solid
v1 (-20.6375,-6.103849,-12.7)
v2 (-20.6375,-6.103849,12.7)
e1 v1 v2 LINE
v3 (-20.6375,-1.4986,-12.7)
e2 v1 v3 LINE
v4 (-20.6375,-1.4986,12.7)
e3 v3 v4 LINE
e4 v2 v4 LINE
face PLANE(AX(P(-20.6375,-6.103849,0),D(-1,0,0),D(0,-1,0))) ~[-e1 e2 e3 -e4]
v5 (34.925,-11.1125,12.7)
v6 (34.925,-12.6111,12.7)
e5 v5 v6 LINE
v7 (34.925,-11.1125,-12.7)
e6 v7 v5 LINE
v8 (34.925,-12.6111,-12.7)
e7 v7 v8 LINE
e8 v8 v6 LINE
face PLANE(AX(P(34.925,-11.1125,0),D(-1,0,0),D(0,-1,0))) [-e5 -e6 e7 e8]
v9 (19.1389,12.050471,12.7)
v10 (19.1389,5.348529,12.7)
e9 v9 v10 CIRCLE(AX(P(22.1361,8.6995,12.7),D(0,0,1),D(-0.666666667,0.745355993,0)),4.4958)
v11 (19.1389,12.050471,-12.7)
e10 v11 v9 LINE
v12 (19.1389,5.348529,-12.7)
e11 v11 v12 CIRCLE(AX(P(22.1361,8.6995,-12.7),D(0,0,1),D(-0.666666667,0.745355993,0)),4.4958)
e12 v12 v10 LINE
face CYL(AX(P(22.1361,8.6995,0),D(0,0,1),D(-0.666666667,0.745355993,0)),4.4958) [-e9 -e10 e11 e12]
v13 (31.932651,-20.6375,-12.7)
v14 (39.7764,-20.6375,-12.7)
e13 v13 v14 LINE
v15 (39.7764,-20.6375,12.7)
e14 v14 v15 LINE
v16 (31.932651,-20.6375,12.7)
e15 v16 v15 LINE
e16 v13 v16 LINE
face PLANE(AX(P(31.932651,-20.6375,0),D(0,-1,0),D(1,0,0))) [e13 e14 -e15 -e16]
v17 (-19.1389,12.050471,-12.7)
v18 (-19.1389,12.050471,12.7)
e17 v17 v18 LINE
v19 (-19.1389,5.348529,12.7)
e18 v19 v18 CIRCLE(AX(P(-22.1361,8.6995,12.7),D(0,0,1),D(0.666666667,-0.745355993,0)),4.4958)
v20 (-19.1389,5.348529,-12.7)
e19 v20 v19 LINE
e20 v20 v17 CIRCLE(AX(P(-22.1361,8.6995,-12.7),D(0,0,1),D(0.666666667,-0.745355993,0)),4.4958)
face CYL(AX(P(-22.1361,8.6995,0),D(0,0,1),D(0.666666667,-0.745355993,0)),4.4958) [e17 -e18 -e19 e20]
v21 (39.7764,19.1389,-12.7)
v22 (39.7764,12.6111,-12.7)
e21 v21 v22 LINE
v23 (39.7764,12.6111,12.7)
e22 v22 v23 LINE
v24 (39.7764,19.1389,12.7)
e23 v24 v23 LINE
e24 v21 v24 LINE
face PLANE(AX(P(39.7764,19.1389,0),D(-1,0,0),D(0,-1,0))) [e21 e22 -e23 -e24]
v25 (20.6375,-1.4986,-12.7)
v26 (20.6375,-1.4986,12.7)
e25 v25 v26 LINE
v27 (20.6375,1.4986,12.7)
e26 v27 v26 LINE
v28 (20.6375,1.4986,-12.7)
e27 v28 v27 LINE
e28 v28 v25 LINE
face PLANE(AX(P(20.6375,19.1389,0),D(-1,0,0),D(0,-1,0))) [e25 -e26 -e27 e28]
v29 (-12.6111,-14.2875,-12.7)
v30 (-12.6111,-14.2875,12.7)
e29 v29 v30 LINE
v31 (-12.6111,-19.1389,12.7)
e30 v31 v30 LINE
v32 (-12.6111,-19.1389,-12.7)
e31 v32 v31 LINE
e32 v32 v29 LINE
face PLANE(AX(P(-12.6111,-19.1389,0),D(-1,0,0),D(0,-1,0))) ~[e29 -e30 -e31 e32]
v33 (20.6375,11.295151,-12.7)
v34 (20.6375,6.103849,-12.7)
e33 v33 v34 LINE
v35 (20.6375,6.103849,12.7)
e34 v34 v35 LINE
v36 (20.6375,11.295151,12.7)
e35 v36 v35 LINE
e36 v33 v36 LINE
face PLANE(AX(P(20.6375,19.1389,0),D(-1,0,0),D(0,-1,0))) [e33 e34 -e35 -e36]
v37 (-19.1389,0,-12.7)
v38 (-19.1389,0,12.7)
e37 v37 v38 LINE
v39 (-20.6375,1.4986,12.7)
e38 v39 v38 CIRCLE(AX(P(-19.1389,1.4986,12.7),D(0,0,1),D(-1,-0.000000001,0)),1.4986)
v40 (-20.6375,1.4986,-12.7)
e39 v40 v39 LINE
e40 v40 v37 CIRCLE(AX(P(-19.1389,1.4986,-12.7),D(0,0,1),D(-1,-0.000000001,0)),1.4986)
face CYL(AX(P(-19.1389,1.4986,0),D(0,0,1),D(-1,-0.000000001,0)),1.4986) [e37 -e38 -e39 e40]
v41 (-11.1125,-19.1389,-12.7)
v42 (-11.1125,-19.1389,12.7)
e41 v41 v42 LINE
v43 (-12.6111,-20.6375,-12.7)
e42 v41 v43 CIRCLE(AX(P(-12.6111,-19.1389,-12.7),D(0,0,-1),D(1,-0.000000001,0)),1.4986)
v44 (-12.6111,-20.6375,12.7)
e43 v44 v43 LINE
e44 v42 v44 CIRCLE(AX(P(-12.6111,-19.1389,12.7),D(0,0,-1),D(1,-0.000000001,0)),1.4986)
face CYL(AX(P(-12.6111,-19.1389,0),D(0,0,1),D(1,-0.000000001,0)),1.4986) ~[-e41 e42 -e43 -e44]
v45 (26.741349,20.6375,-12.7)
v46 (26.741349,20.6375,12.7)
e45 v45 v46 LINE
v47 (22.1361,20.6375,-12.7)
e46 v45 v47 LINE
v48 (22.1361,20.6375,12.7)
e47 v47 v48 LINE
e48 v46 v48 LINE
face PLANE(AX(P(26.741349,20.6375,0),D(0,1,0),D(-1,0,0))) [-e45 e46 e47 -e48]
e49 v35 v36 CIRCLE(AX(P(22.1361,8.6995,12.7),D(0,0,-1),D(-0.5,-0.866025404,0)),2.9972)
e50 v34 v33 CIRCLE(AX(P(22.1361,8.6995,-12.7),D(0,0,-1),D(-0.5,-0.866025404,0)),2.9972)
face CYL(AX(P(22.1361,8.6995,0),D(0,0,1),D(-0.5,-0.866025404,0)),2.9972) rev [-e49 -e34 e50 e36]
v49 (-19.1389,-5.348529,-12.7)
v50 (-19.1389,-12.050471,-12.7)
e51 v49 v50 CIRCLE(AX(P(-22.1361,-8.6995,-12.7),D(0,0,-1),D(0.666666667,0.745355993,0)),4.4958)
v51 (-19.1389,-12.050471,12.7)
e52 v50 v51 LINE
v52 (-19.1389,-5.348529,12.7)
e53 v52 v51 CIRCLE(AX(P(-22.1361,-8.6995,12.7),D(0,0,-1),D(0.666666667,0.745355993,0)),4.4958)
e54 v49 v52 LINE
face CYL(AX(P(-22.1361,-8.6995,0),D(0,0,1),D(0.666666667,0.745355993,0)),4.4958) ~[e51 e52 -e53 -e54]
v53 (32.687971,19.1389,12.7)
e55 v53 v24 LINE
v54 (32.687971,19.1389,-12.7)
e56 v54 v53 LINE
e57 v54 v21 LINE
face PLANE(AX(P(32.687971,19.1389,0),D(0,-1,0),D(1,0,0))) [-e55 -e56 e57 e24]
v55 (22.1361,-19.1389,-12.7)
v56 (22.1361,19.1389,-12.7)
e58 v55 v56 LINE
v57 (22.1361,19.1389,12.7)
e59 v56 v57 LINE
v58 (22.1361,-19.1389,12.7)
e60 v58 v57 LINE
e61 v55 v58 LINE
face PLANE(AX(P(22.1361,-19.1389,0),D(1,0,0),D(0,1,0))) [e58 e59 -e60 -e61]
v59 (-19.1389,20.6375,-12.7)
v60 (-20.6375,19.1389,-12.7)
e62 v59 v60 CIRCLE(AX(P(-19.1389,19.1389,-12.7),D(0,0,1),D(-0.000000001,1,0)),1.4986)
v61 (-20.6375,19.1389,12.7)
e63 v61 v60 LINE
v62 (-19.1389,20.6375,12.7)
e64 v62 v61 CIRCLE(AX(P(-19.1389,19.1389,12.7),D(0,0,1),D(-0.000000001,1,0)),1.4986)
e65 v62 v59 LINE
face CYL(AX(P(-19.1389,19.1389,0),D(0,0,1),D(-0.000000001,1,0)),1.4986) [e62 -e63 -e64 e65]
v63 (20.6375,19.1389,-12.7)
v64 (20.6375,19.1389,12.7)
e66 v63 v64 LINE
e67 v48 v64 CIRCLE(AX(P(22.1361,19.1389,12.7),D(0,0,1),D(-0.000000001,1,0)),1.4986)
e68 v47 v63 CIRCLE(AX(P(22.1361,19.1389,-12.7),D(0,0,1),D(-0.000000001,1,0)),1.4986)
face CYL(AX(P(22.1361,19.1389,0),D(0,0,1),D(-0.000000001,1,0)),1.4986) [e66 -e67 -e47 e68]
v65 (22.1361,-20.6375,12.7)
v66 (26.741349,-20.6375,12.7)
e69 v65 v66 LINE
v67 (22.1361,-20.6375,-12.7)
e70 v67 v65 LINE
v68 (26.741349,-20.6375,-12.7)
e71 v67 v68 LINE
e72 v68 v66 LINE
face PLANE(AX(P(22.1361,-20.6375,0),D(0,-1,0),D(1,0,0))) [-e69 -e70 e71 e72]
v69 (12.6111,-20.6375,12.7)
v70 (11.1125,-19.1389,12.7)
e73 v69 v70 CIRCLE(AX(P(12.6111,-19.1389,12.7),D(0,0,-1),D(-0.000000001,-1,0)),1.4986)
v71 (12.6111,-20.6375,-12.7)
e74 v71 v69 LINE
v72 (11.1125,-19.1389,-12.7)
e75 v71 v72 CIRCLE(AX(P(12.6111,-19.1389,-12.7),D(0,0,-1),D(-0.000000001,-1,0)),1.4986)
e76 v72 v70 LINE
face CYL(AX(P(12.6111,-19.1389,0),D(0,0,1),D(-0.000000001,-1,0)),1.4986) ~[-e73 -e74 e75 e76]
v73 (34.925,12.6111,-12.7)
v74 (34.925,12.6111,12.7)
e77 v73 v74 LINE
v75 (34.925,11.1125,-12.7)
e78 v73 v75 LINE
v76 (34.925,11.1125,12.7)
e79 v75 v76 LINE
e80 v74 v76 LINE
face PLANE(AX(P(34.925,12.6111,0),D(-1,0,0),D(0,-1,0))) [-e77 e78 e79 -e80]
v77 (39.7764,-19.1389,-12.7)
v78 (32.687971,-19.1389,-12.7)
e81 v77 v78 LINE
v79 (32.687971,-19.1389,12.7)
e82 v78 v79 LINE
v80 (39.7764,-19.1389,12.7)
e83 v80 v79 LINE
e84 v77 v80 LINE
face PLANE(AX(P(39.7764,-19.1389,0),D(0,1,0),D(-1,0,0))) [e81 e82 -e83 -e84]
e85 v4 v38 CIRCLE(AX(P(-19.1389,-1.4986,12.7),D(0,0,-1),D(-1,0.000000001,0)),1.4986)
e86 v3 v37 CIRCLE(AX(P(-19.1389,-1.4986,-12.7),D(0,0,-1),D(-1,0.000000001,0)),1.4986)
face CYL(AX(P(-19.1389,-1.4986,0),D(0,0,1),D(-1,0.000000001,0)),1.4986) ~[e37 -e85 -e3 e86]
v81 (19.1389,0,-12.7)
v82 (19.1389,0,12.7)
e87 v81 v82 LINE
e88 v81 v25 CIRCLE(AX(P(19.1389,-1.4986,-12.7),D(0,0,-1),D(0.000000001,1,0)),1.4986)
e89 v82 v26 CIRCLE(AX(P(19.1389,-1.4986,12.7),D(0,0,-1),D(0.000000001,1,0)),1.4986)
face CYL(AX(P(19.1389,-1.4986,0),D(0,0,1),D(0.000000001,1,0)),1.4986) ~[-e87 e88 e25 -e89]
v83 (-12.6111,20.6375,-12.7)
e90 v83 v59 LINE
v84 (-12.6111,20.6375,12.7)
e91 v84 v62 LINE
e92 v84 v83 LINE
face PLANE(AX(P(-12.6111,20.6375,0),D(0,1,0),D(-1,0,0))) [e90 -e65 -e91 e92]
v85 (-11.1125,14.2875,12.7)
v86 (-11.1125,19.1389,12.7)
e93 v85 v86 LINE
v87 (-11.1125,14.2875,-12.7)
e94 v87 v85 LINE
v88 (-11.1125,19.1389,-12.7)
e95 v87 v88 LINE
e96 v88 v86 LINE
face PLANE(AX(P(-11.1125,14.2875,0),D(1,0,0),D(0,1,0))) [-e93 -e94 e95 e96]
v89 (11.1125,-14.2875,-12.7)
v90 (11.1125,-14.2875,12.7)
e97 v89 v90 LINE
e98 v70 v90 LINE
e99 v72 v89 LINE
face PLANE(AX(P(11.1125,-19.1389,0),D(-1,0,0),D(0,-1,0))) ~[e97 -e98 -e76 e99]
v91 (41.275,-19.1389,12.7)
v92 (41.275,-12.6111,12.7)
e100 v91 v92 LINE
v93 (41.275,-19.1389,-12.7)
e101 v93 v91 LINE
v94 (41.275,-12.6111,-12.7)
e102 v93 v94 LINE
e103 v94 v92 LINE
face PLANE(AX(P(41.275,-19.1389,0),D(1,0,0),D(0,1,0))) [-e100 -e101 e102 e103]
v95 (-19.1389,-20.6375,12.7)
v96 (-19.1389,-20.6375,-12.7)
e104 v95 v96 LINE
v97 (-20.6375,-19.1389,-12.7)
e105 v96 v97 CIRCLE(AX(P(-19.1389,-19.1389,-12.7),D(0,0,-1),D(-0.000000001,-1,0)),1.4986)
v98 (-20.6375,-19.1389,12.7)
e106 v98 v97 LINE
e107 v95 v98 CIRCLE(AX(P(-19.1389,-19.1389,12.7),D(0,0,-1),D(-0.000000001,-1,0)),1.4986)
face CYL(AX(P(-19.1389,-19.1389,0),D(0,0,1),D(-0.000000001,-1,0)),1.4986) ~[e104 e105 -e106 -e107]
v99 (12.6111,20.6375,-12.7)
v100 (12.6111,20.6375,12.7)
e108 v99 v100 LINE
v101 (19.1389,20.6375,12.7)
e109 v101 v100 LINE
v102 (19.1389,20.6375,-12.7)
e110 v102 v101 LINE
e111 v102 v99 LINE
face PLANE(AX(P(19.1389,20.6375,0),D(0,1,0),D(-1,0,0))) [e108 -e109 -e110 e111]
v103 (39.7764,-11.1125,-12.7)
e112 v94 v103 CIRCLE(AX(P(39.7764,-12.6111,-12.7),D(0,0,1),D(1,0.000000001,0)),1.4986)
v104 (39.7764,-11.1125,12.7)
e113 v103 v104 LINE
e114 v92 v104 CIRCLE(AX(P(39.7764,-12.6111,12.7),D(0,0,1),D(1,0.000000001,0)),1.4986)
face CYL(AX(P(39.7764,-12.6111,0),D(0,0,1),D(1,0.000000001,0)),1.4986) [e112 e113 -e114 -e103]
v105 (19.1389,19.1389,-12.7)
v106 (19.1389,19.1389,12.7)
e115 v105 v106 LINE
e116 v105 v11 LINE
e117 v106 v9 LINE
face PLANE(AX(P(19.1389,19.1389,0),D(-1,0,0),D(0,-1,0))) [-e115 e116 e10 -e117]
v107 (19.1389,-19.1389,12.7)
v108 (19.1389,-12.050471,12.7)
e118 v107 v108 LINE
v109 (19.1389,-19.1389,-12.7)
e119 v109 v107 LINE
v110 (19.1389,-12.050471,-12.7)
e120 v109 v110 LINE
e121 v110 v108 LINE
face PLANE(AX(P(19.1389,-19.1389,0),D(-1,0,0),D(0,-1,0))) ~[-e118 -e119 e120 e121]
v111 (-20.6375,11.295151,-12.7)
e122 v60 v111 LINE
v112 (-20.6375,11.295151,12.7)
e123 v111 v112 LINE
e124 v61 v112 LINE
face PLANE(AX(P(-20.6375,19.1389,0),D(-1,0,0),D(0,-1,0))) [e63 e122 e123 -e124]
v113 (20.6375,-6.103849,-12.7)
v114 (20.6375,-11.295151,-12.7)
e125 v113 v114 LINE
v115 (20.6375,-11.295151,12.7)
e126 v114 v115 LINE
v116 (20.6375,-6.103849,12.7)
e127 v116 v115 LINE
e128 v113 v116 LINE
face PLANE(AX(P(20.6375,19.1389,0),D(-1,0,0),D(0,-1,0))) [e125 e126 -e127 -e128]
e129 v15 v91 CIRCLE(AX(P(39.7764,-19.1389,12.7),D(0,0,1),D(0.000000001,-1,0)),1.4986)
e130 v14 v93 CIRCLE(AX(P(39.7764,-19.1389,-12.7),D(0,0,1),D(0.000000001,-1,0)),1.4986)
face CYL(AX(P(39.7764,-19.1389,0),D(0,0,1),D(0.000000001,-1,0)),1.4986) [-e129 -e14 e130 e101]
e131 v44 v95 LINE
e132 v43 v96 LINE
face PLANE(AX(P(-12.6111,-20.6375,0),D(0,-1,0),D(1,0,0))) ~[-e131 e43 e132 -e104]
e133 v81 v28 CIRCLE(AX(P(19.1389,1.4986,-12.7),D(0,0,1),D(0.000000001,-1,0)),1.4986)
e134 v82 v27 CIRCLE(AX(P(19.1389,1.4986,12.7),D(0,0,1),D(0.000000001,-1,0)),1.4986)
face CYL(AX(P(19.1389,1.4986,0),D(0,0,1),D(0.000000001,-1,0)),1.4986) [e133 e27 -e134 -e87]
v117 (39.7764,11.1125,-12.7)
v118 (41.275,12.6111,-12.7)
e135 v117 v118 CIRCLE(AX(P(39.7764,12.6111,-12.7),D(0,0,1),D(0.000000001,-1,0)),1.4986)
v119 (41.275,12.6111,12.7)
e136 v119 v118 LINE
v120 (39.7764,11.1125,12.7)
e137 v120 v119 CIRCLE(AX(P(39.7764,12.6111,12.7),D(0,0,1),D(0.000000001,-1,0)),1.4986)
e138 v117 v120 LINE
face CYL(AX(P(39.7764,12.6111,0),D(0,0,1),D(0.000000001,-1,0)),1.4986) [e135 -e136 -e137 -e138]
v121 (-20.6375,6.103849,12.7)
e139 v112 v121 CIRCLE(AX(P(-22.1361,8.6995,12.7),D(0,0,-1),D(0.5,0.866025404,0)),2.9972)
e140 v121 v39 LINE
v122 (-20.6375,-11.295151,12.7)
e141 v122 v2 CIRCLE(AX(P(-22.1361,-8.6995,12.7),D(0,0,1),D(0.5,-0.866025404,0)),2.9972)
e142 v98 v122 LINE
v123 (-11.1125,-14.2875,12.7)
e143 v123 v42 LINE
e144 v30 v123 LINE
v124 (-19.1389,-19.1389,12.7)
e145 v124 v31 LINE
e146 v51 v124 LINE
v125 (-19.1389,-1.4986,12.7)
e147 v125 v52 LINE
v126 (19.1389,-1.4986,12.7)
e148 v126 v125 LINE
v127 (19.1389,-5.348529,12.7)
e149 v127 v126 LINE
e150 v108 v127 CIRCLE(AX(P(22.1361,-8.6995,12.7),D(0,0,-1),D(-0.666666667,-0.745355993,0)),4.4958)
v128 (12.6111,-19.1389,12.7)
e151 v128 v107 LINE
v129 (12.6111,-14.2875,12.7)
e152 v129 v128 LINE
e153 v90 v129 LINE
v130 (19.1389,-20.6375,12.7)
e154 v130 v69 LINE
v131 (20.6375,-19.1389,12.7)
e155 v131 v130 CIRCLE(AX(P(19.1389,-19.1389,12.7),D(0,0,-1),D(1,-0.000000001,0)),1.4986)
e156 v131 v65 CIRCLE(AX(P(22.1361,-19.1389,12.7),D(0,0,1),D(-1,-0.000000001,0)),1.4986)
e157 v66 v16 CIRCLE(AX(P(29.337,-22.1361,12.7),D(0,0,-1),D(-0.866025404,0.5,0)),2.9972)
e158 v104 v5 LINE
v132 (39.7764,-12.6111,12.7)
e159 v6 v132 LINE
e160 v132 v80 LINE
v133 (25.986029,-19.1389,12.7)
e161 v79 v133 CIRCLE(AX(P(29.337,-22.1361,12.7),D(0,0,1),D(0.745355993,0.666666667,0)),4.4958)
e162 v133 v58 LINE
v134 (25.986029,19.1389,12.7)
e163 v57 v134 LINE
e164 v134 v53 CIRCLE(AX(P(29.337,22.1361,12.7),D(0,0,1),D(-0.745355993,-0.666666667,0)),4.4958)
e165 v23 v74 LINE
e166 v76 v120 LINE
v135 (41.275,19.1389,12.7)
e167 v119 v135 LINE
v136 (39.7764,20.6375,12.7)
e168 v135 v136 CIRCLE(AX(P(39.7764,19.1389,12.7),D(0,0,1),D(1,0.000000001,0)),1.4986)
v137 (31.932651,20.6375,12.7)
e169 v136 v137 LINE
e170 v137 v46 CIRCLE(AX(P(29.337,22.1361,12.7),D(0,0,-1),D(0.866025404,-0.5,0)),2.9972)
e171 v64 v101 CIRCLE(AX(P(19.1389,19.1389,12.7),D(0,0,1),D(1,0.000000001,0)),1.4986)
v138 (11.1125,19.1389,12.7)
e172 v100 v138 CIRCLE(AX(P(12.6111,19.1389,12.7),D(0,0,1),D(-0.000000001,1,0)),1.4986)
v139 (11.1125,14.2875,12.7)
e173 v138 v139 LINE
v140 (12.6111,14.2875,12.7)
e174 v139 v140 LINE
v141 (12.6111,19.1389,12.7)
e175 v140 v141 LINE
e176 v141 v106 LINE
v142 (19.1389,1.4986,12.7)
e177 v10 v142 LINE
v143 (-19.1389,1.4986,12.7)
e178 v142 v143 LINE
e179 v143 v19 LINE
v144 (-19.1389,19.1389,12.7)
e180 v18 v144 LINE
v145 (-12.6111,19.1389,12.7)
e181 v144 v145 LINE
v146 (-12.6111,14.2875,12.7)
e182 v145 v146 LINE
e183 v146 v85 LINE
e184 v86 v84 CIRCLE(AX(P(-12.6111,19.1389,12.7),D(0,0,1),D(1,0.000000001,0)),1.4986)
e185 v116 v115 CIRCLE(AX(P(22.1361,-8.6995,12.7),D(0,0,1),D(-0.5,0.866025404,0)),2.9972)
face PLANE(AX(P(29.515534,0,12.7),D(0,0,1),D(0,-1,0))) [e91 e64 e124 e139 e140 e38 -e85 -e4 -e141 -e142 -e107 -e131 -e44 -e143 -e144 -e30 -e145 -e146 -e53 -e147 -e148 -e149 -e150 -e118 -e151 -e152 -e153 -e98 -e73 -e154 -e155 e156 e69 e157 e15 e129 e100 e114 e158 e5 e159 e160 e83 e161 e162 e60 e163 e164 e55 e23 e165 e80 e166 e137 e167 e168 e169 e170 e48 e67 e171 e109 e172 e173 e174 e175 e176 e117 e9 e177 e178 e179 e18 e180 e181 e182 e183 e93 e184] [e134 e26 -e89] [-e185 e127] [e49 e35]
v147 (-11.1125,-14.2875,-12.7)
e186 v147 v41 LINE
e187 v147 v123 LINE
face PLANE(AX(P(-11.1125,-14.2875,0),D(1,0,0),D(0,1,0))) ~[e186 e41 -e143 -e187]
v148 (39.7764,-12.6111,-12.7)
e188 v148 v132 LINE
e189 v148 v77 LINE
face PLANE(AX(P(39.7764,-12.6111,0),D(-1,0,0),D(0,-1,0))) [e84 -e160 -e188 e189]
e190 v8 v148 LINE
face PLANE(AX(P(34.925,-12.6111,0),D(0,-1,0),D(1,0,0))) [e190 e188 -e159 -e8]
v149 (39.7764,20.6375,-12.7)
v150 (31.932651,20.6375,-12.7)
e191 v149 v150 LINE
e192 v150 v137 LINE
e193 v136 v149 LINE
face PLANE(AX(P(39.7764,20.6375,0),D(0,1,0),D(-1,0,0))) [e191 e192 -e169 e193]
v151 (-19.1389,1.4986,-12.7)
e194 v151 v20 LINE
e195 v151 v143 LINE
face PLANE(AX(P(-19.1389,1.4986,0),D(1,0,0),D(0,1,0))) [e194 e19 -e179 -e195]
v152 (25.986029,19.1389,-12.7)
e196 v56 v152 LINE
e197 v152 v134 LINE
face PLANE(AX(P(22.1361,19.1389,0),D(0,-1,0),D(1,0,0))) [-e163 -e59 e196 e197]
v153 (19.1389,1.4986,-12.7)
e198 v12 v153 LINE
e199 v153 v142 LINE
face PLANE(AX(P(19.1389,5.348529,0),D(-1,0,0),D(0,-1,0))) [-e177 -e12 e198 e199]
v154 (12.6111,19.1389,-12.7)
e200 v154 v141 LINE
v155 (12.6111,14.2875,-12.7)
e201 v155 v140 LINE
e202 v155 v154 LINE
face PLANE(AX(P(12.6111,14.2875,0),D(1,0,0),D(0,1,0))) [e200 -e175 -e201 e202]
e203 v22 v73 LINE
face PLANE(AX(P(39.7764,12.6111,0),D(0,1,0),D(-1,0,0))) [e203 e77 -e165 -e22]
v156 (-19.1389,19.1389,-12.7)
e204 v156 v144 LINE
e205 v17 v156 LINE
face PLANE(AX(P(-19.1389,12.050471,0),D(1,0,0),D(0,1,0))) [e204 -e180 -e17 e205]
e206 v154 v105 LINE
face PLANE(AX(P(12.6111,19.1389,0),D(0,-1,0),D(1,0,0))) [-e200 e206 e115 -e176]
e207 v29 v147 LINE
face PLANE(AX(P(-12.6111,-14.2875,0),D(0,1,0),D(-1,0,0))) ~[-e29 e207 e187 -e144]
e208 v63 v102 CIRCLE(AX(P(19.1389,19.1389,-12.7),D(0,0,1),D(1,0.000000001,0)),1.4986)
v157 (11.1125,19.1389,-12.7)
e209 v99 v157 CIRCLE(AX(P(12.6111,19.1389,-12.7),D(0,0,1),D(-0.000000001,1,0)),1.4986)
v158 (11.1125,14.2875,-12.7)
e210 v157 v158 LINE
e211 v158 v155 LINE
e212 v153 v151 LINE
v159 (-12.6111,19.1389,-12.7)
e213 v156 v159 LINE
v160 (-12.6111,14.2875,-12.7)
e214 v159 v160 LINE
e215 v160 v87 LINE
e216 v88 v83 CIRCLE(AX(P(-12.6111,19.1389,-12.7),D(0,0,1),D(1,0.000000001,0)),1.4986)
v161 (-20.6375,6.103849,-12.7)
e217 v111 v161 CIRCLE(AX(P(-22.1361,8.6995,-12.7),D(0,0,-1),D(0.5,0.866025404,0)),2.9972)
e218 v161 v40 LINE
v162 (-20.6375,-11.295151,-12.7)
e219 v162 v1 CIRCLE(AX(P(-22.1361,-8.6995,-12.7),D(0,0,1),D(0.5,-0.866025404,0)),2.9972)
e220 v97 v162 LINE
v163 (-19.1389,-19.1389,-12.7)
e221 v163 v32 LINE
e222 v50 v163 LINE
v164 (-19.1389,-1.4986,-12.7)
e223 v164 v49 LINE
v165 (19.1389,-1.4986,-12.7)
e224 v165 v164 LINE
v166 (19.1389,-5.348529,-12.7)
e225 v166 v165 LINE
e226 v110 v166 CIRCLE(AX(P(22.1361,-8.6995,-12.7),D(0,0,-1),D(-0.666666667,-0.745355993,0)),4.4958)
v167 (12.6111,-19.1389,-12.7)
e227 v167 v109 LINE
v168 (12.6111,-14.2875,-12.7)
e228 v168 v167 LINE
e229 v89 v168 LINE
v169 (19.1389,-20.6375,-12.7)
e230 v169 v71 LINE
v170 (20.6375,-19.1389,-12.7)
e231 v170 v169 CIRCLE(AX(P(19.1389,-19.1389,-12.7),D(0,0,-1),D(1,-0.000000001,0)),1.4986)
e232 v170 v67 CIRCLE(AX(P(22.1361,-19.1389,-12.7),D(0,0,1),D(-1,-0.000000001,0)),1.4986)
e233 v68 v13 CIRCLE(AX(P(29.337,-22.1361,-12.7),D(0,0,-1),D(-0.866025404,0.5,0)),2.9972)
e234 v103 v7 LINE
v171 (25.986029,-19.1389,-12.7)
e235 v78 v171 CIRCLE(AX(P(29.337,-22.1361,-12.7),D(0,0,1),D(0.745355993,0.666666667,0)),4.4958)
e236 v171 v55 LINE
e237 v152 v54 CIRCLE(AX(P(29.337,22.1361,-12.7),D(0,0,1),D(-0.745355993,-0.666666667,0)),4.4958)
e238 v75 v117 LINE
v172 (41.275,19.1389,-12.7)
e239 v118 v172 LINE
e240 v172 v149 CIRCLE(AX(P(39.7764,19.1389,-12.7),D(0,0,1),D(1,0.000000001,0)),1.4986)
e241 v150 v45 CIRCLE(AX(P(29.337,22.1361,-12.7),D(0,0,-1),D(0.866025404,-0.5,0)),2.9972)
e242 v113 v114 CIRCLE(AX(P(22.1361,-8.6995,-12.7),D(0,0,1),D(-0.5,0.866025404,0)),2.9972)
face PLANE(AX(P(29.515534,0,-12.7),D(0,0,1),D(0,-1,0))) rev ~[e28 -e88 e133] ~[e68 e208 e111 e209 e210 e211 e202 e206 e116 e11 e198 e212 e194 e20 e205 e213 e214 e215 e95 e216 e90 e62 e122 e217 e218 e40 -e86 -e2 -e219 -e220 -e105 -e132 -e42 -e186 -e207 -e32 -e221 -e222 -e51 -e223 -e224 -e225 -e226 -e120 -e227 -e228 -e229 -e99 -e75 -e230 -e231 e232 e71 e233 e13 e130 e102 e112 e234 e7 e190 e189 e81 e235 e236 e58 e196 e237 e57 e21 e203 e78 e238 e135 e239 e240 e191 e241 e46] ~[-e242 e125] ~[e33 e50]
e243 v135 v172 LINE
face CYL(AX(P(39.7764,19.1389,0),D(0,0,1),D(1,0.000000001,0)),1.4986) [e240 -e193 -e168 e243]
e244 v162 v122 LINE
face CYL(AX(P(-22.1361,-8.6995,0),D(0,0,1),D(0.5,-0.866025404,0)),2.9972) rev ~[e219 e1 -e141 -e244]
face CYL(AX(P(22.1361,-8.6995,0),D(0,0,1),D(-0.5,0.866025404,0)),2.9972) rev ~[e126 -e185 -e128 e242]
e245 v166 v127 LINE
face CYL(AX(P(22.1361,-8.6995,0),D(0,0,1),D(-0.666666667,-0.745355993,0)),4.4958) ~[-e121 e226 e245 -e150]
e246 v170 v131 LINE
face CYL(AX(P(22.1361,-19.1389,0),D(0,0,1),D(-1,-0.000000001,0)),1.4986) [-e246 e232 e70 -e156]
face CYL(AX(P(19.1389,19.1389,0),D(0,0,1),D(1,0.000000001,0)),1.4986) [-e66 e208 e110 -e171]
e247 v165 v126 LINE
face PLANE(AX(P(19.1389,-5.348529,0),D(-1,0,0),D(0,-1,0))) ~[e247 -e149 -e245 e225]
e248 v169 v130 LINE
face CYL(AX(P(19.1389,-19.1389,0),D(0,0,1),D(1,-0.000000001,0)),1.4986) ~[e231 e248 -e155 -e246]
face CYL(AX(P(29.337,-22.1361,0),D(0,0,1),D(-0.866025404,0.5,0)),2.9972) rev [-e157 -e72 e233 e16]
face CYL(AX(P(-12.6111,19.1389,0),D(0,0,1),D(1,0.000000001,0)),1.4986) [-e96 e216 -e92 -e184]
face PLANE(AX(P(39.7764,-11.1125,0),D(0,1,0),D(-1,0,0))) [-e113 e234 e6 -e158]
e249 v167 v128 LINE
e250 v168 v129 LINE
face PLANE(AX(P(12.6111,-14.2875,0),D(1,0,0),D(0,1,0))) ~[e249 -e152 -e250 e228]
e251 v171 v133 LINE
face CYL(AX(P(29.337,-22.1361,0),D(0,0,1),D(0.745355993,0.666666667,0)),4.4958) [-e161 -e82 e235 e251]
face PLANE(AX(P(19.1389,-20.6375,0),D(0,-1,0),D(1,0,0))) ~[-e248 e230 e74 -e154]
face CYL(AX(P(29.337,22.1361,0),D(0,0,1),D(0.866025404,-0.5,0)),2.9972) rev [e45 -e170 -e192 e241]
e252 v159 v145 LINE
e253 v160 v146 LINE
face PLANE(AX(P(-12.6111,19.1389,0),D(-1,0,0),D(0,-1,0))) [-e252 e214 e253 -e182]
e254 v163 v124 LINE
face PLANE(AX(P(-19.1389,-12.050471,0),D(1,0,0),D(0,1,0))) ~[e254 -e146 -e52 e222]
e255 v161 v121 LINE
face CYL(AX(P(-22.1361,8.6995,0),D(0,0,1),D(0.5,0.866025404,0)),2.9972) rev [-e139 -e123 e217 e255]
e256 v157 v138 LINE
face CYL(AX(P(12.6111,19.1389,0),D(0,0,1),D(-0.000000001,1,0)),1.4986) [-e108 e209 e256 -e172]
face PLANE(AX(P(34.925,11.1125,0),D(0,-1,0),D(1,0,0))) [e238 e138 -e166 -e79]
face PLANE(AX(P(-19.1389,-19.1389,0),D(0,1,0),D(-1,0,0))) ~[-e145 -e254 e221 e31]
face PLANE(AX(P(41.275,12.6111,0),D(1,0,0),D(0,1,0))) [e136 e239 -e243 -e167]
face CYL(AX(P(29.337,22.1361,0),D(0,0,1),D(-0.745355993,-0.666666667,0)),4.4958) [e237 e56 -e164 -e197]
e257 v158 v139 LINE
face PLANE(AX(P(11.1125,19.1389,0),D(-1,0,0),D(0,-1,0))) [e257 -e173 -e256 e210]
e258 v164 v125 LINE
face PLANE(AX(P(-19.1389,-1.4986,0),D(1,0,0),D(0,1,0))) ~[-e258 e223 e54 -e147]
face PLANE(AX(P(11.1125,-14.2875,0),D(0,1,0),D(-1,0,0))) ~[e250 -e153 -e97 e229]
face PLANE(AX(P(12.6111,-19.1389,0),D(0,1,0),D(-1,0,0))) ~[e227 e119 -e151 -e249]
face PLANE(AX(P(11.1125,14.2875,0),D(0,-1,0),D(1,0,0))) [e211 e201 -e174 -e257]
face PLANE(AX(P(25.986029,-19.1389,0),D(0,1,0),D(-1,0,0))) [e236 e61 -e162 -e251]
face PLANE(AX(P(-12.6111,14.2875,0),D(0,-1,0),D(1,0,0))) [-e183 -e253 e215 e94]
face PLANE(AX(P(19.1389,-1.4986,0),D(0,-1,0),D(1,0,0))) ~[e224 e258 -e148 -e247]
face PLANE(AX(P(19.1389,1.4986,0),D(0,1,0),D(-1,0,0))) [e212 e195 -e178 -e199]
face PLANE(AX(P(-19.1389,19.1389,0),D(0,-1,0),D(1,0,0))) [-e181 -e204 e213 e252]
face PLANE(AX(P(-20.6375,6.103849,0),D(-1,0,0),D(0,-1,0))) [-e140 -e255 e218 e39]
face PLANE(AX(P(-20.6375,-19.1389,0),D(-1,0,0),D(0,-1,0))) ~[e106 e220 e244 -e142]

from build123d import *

# Parameters (mm, degrees)
BASE_EXTRUDE_DEPTH  = 12.7
BOSS_EXTRUDE1_DEPTH = 12.7


with BuildPart() as part:
    # Sketch1 → Base-Extrude (new, symmetric)
    with BuildSketch(Plane.XY):
        with BuildLine():
            Line((-20.6375, 19.1389), (-20.6375, 11.29515134))
            ThreePointArc((-20.6375, 11.29515134), (-19.1389, 8.6995), (-20.6375, 6.10384866))
            Line((-20.6375, 6.10384866), (-20.6375, 1.4986))
            ThreePointArc((-20.6375, 1.4986), (-20.198570222, 0.438929778), (-19.1389, 0))
            Line((-19.1389, 0), (19.1389, 0))
            ThreePointArc((19.1389, 0), (20.198570222, 0.438929778), (20.6375, 1.4986))
            Line((20.6375, 1.4986), (20.6375, 6.10384866))
            ThreePointArc((20.6375, 6.10384866), (19.1389, 8.6995), (20.6375, 11.29515134))
            Line((20.6375, 11.29515134), (20.6375, 19.1389))
            ThreePointArc((20.6375, 19.1389), (20.198570222, 20.198570222), (19.1389, 20.6375))
            Line((19.1389, 20.6375), (12.6111, 20.6375))
            ThreePointArc((12.6111, 20.6375), (11.551429778, 20.198570222), (11.1125, 19.1389))
            Line((11.1125, 19.1389), (11.1125, 14.2875))
            Line((11.1125, 14.2875), (12.6111, 14.2875))
            Line((12.6111, 14.2875), (12.6111, 19.1389))
            Line((12.6111, 19.1389), (19.1389, 19.1389))
            Line((19.1389, 19.1389), (19.1389, 12.050471471))
            ThreePointArc((19.1389, 12.050471471), (17.6403, 8.6995), (19.1389, 5.348528529))
            Line((19.1389, 5.348528529), (19.1389, 1.4986))
            Line((19.1389, 1.4986), (-19.1389, 1.4986))
            Line((-19.1389, 1.4986), (-19.1389, 5.348528529))
            ThreePointArc((-19.1389, 5.348528529), (-17.6403, 8.6995), (-19.1389, 12.050471471))
            Line((-19.1389, 12.050471471), (-19.1389, 19.1389))
            Line((-19.1389, 19.1389), (-12.6111, 19.1389))
            Line((-12.6111, 19.1389), (-12.6111, 14.2875))
            Line((-12.6111, 14.2875), (-11.1125, 14.2875))
            Line((-11.1125, 14.2875), (-11.1125, 19.1389))
            ThreePointArc((-11.1125, 19.1389), (-11.551429778, 20.198570222), (-12.6111, 20.6375))
            Line((-12.6111, 20.6375), (-19.1389, 20.6375))
            ThreePointArc((-19.1389, 20.6375), (-20.198570222, 20.198570222), (-20.6375, 19.1389))
        make_face()
    base_extrude = extrude(amount=BASE_EXTRUDE_DEPTH, both=True)

    # Mirror1: Base-Extrude across plane
    add(base_extrude.mirror(Plane.ZX))

    # Sketch2 → Boss-Extrude1 (add, symmetric)
    with BuildSketch(Plane(origin=(20.16125, 0.15875, 0), x_dir=(0, -1, 0), z_dir=(0, 0, 1))):
        with BuildLine():
            Line((-20.47875, 19.61515), (-20.47875, 11.77140134))
            ThreePointArc((-20.47875, 11.77140134), (-18.98015, 9.17575), (-20.47875, 6.58009866))
            Line((-20.47875, 6.58009866), (-20.47875, 1.97485))
            ThreePointArc((-20.47875, 1.97485), (-20.039820222, 0.915179778), (-18.98015, 0.47625))
            Line((-18.98015, 0.47625), (19.29765, 0.47625))
            ThreePointArc((19.29765, 0.47625), (20.357320222, 0.915179778), (20.79625, 1.97485))
            Line((20.79625, 1.97485), (20.79625, 6.58009866))
            ThreePointArc((20.79625, 6.58009866), (19.29765, 9.17575), (20.79625, 11.77140134))
            Line((20.79625, 11.77140134), (20.79625, 19.61515))
            ThreePointArc((20.79625, 19.61515), (20.357320222, 20.674820222), (19.29765, 21.11375))
            Line((19.29765, 21.11375), (12.76985, 21.11375))
            ThreePointArc((12.76985, 21.11375), (11.710179778, 20.674820222), (11.27125, 19.61515))
            Line((11.27125, 19.61515), (11.27125, 14.76375))
            Line((11.27125, 14.76375), (12.76985, 14.76375))
            Line((12.76985, 14.76375), (12.76985, 19.61515))
            Line((12.76985, 19.61515), (19.29765, 19.61515))
            Line((19.29765, 19.61515), (19.29765, 12.526721471))
            ThreePointArc((19.29765, 12.526721471), (17.79905, 9.17575), (19.29765, 5.824778529))
            Line((19.29765, 5.824778529), (19.29765, 1.97485))
            Line((19.29765, 1.97485), (-18.98015, 1.97485))
            Line((-18.98015, 1.97485), (-18.98015, 5.824778529))
            ThreePointArc((-18.98015, 5.824778529), (-17.48155, 9.17575), (-18.98015, 12.526721471))
            Line((-18.98015, 12.526721471), (-18.98015, 19.61515))
            Line((-18.98015, 19.61515), (-12.45235, 19.61515))
            Line((-12.45235, 19.61515), (-12.45235, 14.76375))
            Line((-12.45235, 14.76375), (-10.95375, 14.76375))
            Line((-10.95375, 14.76375), (-10.95375, 19.61515))
            ThreePointArc((-10.95375, 19.61515), (-11.392679778, 20.674820222), (-12.45235, 21.11375))
            Line((-12.45235, 21.11375), (-18.98015, 21.11375))
            ThreePointArc((-18.98015, 21.11375), (-20.039820222, 20.674820222), (-20.47875, 19.61515))
        make_face()
    extrude(amount=BOSS_EXTRUDE1_DEPTH, both=True)


solid = part.part
